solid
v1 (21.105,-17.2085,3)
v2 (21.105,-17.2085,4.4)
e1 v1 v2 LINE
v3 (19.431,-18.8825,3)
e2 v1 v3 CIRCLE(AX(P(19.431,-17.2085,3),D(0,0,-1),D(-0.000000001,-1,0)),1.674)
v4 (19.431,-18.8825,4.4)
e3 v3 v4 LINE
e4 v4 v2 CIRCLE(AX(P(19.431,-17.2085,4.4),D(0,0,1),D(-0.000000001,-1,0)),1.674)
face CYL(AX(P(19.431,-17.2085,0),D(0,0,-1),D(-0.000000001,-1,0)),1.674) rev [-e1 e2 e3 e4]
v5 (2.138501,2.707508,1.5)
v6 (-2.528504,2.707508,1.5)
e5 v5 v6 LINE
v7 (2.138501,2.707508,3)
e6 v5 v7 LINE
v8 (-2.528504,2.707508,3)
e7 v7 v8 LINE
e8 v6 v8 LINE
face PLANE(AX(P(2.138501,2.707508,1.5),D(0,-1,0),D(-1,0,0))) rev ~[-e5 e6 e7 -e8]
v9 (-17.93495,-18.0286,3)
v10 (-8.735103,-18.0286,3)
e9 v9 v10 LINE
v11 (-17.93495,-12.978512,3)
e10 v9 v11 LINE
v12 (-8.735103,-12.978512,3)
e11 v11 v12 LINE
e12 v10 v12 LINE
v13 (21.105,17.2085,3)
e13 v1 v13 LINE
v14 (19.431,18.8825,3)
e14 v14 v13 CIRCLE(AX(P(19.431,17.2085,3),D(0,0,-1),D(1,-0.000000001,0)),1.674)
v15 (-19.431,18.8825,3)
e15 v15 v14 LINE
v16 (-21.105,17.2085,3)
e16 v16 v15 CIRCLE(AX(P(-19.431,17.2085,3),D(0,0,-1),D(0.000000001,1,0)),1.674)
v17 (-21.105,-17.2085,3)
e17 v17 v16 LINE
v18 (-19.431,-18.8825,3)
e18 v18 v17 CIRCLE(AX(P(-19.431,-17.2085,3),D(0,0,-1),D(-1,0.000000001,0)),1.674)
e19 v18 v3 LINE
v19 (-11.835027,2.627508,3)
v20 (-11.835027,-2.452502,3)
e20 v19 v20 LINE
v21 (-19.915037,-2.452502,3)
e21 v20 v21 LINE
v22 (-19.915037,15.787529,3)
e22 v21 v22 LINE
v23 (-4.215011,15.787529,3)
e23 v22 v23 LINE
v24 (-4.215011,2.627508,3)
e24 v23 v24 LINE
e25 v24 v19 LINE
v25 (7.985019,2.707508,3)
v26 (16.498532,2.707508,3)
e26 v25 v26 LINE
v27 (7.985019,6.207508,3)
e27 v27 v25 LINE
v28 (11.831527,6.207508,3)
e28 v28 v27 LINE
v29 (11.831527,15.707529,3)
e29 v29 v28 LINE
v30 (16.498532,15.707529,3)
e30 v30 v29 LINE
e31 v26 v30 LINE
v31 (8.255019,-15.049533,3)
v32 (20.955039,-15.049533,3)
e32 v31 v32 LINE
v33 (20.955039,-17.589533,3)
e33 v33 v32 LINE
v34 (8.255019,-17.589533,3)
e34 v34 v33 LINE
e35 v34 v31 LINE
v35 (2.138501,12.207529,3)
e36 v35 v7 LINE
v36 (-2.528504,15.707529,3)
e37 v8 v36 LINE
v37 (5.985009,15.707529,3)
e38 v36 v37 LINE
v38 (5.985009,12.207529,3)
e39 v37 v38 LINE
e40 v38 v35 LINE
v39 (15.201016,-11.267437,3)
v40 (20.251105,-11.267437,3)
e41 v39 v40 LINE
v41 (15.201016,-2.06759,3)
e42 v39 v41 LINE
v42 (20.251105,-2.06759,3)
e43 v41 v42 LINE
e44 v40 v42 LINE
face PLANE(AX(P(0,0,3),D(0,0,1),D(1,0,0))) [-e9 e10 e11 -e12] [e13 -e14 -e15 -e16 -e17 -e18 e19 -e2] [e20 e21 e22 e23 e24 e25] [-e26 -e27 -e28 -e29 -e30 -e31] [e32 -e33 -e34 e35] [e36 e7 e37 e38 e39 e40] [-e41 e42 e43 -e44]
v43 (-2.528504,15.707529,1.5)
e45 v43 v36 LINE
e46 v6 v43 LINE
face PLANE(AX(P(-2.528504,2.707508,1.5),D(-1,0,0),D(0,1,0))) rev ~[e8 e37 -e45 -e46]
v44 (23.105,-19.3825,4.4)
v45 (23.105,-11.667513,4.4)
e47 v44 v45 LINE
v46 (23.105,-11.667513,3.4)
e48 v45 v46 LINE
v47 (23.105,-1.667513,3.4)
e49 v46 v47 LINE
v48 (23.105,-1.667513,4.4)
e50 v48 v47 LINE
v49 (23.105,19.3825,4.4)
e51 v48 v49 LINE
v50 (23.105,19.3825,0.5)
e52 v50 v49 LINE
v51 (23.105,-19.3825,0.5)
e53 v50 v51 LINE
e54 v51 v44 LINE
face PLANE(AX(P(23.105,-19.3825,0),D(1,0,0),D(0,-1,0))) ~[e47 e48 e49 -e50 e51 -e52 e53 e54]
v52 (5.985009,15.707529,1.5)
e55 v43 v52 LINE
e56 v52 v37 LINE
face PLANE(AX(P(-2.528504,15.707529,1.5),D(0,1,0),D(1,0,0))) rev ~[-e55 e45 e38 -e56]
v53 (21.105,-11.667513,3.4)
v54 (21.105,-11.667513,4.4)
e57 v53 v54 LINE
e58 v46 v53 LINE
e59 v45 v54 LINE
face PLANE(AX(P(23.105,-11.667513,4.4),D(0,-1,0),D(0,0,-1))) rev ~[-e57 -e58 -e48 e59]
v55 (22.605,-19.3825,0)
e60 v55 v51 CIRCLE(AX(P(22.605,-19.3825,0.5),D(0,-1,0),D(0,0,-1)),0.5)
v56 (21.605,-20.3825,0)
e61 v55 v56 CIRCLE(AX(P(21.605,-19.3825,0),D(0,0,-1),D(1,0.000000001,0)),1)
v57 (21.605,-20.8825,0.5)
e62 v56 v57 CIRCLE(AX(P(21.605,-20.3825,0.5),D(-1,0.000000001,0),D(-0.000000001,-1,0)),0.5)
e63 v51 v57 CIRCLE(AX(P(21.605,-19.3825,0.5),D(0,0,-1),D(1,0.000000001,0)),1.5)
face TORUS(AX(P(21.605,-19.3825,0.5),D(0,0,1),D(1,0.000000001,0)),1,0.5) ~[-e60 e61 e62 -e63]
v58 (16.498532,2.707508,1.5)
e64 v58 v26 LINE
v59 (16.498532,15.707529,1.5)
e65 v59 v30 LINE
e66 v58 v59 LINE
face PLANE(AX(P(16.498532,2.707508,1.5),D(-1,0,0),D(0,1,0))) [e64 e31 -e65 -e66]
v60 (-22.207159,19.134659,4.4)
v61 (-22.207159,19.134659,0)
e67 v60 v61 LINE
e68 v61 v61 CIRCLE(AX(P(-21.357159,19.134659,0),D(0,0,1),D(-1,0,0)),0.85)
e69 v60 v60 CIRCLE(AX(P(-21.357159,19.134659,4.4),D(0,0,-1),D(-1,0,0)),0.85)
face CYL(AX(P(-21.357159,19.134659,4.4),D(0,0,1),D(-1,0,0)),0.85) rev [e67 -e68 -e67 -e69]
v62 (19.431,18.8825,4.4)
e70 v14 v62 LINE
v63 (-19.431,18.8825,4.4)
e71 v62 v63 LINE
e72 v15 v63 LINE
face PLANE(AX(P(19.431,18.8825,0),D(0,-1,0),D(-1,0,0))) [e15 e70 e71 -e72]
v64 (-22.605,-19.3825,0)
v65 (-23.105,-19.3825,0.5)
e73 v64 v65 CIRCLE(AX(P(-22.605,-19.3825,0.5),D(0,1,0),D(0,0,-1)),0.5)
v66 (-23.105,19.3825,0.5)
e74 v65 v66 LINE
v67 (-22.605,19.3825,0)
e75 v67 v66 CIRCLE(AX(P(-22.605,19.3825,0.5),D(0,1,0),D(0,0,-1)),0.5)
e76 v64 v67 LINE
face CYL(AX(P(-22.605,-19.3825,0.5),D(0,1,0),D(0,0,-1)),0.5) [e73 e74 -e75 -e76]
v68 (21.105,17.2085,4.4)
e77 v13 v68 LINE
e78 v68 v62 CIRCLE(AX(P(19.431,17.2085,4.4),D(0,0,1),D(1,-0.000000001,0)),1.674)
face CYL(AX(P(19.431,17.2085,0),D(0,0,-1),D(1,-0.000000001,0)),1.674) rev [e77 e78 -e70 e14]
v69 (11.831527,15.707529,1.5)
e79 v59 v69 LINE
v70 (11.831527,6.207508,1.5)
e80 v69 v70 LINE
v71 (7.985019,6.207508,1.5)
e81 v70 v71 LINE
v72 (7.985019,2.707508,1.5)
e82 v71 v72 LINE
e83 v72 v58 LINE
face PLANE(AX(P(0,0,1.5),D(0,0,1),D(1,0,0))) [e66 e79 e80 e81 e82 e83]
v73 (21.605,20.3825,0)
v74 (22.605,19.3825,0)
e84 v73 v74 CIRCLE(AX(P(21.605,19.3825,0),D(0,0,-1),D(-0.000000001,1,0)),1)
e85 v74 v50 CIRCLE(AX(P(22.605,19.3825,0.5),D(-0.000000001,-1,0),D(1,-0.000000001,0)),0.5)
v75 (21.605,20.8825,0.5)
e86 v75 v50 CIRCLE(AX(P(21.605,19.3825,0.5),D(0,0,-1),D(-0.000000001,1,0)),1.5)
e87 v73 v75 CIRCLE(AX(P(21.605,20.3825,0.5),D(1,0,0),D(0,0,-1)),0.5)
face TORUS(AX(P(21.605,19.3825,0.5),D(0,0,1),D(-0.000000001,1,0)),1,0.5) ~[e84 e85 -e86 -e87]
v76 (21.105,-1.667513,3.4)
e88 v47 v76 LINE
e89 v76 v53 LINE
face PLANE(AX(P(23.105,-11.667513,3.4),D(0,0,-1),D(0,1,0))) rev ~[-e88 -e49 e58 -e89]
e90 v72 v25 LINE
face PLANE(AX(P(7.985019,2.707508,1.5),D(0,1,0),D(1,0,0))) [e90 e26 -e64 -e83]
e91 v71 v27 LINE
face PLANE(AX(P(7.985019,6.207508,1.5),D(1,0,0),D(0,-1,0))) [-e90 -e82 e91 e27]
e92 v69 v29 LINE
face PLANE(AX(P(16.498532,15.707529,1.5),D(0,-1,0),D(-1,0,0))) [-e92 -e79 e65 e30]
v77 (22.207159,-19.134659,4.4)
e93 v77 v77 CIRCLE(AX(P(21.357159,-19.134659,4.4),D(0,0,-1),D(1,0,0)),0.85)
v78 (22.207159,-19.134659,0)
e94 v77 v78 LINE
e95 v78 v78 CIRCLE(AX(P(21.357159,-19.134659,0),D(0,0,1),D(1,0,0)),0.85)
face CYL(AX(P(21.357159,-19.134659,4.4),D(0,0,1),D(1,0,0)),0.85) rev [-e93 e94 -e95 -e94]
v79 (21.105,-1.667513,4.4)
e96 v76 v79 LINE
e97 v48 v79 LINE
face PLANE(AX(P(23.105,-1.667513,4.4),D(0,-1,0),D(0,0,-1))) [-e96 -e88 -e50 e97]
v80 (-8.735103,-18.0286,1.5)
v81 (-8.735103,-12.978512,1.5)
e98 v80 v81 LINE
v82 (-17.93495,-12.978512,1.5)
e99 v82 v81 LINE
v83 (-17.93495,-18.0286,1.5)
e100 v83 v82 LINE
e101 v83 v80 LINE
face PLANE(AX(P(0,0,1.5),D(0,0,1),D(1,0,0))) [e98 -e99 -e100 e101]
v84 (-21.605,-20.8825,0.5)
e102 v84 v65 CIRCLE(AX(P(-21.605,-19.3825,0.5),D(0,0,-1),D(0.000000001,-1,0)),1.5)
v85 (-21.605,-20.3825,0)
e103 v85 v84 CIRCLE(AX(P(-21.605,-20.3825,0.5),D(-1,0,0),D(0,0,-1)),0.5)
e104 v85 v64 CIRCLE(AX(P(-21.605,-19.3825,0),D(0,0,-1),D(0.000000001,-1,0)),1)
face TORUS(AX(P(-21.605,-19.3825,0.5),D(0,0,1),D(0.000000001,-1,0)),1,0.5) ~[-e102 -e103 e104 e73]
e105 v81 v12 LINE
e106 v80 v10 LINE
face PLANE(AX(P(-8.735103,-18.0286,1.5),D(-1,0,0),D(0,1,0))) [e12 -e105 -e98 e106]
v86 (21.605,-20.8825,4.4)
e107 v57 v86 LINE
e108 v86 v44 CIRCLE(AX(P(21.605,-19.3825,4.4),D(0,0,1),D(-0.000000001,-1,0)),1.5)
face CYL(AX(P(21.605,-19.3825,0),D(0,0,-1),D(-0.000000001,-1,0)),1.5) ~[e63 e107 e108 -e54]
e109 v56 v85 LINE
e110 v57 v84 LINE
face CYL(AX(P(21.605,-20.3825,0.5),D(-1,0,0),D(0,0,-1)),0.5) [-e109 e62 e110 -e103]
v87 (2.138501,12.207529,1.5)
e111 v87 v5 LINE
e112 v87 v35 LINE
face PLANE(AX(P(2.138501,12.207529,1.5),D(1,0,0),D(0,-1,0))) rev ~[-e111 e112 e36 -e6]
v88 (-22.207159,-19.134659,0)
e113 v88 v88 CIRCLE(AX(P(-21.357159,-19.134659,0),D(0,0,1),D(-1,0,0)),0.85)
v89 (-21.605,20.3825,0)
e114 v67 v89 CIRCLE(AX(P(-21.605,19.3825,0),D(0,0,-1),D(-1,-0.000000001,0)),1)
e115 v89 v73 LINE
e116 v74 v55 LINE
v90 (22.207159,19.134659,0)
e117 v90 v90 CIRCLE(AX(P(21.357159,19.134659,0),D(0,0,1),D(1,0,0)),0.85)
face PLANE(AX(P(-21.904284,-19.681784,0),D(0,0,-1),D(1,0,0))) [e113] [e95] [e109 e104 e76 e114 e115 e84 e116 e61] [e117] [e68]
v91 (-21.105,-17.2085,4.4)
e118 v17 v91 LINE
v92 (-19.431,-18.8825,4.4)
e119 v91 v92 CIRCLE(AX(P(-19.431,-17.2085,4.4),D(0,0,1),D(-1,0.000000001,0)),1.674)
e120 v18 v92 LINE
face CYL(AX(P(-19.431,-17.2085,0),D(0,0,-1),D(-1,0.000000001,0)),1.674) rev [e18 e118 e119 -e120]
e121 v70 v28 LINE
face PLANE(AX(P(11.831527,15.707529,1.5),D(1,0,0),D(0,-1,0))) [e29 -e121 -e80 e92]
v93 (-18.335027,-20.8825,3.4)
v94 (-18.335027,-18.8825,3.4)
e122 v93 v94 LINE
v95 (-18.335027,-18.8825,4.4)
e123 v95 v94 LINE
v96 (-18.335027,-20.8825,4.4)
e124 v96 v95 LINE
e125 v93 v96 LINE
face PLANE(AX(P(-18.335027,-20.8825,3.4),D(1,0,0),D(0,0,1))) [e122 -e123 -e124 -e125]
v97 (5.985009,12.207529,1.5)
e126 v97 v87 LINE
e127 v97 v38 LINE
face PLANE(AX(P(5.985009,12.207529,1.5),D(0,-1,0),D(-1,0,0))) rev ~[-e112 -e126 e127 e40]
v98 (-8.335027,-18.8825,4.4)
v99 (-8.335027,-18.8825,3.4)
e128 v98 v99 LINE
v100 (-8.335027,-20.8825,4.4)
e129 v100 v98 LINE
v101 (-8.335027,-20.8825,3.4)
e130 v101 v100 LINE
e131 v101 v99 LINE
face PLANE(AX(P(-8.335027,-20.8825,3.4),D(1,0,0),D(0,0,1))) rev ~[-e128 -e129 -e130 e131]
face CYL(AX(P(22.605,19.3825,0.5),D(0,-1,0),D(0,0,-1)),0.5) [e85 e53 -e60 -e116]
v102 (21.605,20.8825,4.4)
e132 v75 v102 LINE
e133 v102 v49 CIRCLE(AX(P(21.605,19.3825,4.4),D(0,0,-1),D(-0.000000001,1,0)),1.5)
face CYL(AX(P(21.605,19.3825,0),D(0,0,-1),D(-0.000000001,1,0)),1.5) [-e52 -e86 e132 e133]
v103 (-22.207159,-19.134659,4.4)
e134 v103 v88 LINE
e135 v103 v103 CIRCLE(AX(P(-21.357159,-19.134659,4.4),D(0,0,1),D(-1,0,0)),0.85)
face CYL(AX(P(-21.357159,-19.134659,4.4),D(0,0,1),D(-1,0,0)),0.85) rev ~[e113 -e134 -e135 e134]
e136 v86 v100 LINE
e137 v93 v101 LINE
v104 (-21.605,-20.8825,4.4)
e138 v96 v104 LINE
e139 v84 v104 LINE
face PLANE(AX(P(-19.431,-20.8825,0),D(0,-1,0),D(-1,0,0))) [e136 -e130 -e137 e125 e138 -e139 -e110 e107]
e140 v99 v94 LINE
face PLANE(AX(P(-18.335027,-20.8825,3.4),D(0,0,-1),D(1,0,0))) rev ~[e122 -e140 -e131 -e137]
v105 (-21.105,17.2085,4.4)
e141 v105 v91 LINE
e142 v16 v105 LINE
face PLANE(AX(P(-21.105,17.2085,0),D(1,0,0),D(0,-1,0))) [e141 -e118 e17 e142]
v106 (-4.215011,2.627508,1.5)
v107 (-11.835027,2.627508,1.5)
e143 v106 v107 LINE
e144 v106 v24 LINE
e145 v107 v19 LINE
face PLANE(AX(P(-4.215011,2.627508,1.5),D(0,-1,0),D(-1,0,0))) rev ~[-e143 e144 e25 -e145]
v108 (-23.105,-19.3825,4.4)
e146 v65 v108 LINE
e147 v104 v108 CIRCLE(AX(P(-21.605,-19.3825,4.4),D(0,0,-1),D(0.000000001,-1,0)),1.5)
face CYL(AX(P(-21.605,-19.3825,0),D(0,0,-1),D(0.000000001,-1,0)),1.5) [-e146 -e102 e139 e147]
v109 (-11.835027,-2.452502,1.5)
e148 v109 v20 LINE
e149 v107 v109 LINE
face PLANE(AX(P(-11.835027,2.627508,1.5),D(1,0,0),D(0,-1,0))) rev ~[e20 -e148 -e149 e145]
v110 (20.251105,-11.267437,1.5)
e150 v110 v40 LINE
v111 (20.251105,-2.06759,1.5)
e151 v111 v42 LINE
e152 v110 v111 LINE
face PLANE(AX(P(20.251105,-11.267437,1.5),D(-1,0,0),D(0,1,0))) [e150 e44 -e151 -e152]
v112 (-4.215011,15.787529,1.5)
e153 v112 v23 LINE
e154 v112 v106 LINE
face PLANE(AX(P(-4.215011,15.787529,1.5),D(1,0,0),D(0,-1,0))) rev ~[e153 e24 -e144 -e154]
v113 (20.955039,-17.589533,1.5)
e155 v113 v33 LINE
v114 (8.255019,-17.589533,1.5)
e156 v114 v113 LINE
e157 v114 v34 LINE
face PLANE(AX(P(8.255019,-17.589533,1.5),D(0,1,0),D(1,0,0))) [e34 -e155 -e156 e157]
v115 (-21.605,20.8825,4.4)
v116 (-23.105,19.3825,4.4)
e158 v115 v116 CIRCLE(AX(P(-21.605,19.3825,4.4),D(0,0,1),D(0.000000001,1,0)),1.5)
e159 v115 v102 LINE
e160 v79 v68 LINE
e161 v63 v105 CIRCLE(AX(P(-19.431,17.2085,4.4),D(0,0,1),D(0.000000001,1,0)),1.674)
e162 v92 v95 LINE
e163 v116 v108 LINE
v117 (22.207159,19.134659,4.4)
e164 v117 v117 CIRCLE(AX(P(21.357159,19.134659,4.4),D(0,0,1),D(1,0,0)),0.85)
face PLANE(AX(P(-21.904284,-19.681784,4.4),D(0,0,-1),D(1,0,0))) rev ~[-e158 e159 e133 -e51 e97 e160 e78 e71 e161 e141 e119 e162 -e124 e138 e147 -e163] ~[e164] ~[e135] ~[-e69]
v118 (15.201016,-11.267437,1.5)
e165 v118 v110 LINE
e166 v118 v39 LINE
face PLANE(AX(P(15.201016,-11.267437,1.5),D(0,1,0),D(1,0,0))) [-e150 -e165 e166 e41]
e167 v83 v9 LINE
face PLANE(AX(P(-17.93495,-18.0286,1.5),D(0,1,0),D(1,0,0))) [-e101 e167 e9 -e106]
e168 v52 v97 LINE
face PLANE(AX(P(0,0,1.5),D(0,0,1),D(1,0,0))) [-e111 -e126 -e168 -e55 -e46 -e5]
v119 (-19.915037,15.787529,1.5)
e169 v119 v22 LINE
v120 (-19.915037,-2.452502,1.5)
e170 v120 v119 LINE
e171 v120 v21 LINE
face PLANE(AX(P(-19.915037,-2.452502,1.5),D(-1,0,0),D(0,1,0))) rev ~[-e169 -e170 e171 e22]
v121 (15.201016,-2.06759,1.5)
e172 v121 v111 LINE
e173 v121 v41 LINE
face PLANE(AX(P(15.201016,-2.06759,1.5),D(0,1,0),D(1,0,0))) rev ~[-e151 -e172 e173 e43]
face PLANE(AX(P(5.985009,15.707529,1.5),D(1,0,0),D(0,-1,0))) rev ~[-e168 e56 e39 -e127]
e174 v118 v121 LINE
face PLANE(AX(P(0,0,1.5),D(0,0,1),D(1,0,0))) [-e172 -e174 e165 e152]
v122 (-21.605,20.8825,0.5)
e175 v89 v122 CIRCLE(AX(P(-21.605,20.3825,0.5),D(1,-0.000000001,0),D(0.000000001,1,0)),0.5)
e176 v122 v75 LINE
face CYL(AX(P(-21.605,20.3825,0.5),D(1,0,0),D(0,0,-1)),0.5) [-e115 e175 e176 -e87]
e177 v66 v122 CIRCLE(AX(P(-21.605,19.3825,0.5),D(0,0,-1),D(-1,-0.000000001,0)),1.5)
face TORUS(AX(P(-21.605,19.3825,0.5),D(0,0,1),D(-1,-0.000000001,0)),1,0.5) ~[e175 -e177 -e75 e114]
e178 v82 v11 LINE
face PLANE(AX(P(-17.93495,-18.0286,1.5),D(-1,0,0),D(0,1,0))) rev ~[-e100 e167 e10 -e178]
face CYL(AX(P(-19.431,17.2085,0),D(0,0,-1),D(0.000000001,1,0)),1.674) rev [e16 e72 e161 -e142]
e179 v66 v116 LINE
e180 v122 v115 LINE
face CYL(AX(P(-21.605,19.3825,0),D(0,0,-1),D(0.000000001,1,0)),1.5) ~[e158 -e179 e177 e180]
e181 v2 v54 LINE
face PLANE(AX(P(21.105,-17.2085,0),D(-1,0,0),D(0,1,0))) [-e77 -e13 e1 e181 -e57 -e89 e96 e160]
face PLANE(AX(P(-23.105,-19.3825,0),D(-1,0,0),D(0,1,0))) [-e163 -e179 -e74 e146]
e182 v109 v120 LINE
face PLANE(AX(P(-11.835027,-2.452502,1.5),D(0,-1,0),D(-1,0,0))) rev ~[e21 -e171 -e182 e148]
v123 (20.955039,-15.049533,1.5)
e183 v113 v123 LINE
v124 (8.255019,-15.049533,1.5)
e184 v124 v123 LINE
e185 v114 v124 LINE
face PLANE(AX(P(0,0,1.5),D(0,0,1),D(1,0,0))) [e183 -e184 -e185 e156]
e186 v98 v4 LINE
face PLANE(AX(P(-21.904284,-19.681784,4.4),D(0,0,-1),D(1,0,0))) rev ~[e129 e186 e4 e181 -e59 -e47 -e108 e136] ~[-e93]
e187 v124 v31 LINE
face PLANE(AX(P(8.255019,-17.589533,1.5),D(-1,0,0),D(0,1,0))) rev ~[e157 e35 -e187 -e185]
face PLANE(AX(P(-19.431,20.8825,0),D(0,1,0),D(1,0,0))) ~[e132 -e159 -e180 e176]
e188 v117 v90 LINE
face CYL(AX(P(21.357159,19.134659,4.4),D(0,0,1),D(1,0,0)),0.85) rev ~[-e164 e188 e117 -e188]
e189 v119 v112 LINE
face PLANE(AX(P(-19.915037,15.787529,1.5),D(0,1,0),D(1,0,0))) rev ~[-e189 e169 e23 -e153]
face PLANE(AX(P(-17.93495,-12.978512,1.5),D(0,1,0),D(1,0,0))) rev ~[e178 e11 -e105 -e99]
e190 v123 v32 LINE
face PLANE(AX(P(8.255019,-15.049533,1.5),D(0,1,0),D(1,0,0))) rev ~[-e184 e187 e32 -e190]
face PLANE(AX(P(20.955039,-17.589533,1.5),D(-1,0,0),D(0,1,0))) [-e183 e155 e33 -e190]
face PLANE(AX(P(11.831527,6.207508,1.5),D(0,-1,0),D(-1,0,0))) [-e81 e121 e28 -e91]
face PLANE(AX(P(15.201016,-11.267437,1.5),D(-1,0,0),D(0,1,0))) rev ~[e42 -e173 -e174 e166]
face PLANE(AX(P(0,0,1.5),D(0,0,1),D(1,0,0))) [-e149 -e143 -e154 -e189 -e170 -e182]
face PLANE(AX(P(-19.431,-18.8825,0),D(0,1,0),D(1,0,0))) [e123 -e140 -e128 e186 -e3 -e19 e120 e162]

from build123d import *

# Parameters (mm, degrees)
BOSS_EXTRUDE1_DEPTH     = 4.4
BOSS_EXTRUDE2_DEPTH     = 1.5
SKETCH3_W               = 42.21
SKETCH3_H               = 37.765
SKETCH3_W_2             = 5.0500889
SKETCH3_H_2             = 9.1998476
SKETCH3_W_3             = 9.1998476
SKETCH3_H_3             = 5.0500889
SKETCH3_W_4             = 12.70002032
SKETCH3_H_4             = 2.54
BOSS_EXTRUDE3_DEPTH     = 1.5
BOSS_EXTRUDE4_START     = -4.4
BOSS_EXTRUDE4_DEPTH     = 4.4
SKETCH4_R               = 0.85
CUT_EXTRUDE1_DEPTH      = 32.45281913
MIRROR2_START           = -4.4
MIRROR2_COPY_1_DEPTH    = 4.4
MIRROR2_COPY_2_SKETCH_R = 0.85
MIRROR2_COPY_2_DEPTH    = 32.45281913
FILLET1_R               = 0.5
SKETCH7_W               = 10
SKETCH7_H               = 1
CUT_EXTRUDE2_DEPTH      = 3
SKETCH8_W               = 1
SKETCH8_H               = 10
CUT_EXTRUDE3_DEPTH      = 3


with BuildPart() as part:
    # Sketch1 → Boss-Extrude1 (new body)
    with BuildSketch(Plane.XY):
        with BuildLine():
            Line((-19.431, 20.8825), (19.431, 20.8825))
            ThreePointArc((19.431, 20.8825), (22.028910314, 19.806410314), (23.105, 17.2085))
            Line((23.105, 17.2085), (23.105, -17.2085))
            ThreePointArc((23.105, -17.2085), (22.028910314, -19.806410314), (19.431, -20.8825))
            Line((19.431, -20.8825), (-19.431, -20.8825))
            ThreePointArc((-19.431, -20.8825), (-22.028910314, -19.806410314), (-23.105, -17.2085))
            Line((-23.105, -17.2085), (-23.105, 17.2085))
            ThreePointArc((-23.105, 17.2085), (-22.028910314, 19.806410314), (-19.431, 20.8825))
        make_face()
        with BuildLine():
            Line((-19.431, -18.8825), (19.431, -18.8825))
            ThreePointArc((19.431, -18.8825), (20.614696752, -18.392196752), (21.105, -17.2085))
            Line((21.105, -17.2085), (21.105, 17.2085))
            ThreePointArc((21.105, 17.2085), (20.614696752, 18.392196752), (19.431, 18.8825))
            Line((19.431, 18.8825), (-19.431, 18.8825))
            ThreePointArc((-19.431, 18.8825), (-20.614696752, 18.392196752), (-21.105, 17.2085))
            Line((-21.105, 17.2085), (-21.105, -17.2085))
            ThreePointArc((-21.105, -17.2085), (-20.614696752, -18.392196752), (-19.431, -18.8825))
        make_face(mode=Mode.SUBTRACT)
    extrude(amount=BOSS_EXTRUDE1_DEPTH)

    # Sketch2 → Boss-Extrude2 (add)
    with BuildSketch(Plane(origin=(0, 0, 0), x_dir=(-1, 0, 0), z_dir=(0, 0, -1))):
        with BuildLine():
            Line((21.105, 17.2085), (21.105, -17.2085))
            ThreePointArc((21.105, -17.2085), (20.614696752, -18.392196752), (19.431, -18.8825))
            Line((19.431, -18.8825), (-19.431, -18.8825))
            ThreePointArc((-19.431, -18.8825), (-20.614696752, -18.392196752), (-21.105, -17.2085))
            Line((-21.105, -17.2085), (-21.105, 17.2085))
            ThreePointArc((-21.105, 17.2085), (-20.614696752, 18.392196752), (-19.431, 18.8825))
            Line((-19.431, 18.8825), (19.431, 18.8825))
            ThreePointArc((19.431, 18.8825), (20.614696752, 18.392196752), (21.105, 17.2085))
        make_face()
    extrude(amount=-BOSS_EXTRUDE2_DEPTH)

    # Sketch3 → Boss-Extrude3 (add)
    with BuildSketch(Plane.XY.offset(1.5)):
        Rectangle(SKETCH3_W, SKETCH3_H)
        Polygon((-19.91503683, 15.787528575), (-4.21501143, 15.787528575), (-4.21501143, 2.627508255), (-11.83502667, 2.627508255), (-11.83502667, -2.452501905), (-19.91503683, -2.452501905), align=None, mode=Mode.SUBTRACT)
        Polygon((5.98500889, 15.707528575), (5.98500889, 12.207528575), (2.138501397, 12.207528575), (2.138501397, 2.707508255), (-2.528503937, 2.707508255), (-2.528503937, 15.707528575), align=None, mode=Mode.SUBTRACT)
        Polygon((16.498531877, 2.707508255), (16.498531877, 15.707528575), (11.831526543, 15.707528575), (11.831526543, 6.207508255), (7.98501905, 6.207508255), (7.98501905, 2.707508255), align=None, mode=Mode.SUBTRACT)
        with Locations((17.726060452, -6.667513335)):
            Rectangle(SKETCH3_W_2, SKETCH3_H_2, mode=Mode.SUBTRACT)
        with Locations((-13.33502667, -15.503556007)):
            Rectangle(SKETCH3_W_3, SKETCH3_H_3, mode=Mode.SUBTRACT)
        with Locations((14.60502921, -16.319532639)):
            Rectangle(SKETCH3_W_4, SKETCH3_H_4, mode=Mode.SUBTRACT)
    extrude(amount=BOSS_EXTRUDE3_DEPTH)

    # Sketch5 → Boss-Extrude4 (add)
    with BuildSketch(Plane.XY.offset(4.4).offset(BOSS_EXTRUDE4_START)):
        with BuildLine():
            Line((19.431, 20.8825), (21.605, 20.8825))
            ThreePointArc((21.605, 20.8825), (22.665660172, 20.443160172), (23.105, 19.3825))
            Line((23.105, 19.3825), (23.105, 17.2085))
            ThreePointArc((23.105, 17.2085), (22.028910314, 19.806410314), (19.431, 20.8825))
        make_face()
    boss_extrude4 = extrude(amount=BOSS_EXTRUDE4_DEPTH)

    # Sketch4 → Cut-Extrude1 (cut, through all)
    with BuildSketch(Plane.XY.offset(4.4)):
        with Locations((21.357158872, 19.134658872)):
            Circle(SKETCH4_R)
    cut_extrude1 = extrude(amount=-CUT_EXTRUDE1_DEPTH, mode=Mode.SUBTRACT)

    # Mirror1: Boss-Extrude4, Cut-Extrude1 across plane
    add(boss_extrude4.mirror(Plane(origin=(0, 0, 0), x_dir=(0, 0, 1), z_dir=(1, 0, 0))))
    add(cut_extrude1.mirror(Plane(origin=(0, 0, 0), x_dir=(0, 0, 1), z_dir=(1, 0, 0))), mode=Mode.SUBTRACT)

    # Mirror2: Boss-Extrude4, Cut-Extrude1 across plane
    add(boss_extrude4.mirror(Plane.ZX))
    add(cut_extrude1.mirror(Plane.ZX), mode=Mode.SUBTRACT)

    # Mirror2 copy 1 sketch → Mirror2 copy 1 (add)
    with BuildSketch(Plane(origin=(0, 0, 4.4), x_dir=(-1, 0, 0), z_dir=(0, 0, 1)).offset(MIRROR2_START)):
        with BuildLine():
            Line((19.431, 20.8825), (21.605, 20.8825))
            ThreePointArc((21.605, 20.8825), (22.665660172, 20.443160172), (23.105, 19.3825))
            Line((23.105, 19.3825), (23.105, 17.2085))
            ThreePointArc((23.105, 17.2085), (22.028910314, 19.806410314), (19.431, 20.8825))
        make_face()
    extrude(amount=MIRROR2_COPY_1_DEPTH)

    # Mirror2 copy 2 sketch → Mirror2 copy 2 (cut, through all)
    with BuildSketch(Plane(origin=(0, 0, 4.4), x_dir=(-1, 0, 0), z_dir=(0, 0, 1))):
        with Locations((21.357158872, 19.134658872)):
            Circle(MIRROR2_COPY_2_SKETCH_R)
    extrude(amount=-MIRROR2_COPY_2_DEPTH, mode=Mode.SUBTRACT)

    # Fillet1
    fillet1_edges = [part.edges().sort_by_distance(p)[0] for p in [
        (-23.105, 0, 0),
        (22.665660172, 20.443160172, 0),
        (-22.665660172, 20.443160172, 0),
        (-22.665660172, -20.443160172, 0),
        (22.665660172, -20.443160172, 0),
        (0, 20.8825, 0),
        (23.105, 0, 0),
        (0, -20.8825, 0),
    ]]
    fillet(fillet1_edges, radius=FILLET1_R)

    # Sketch7 → Cut-Extrude2 (cut)
    with BuildSketch(Plane.XZ.offset(20.8825)):
        with Locations((-13.33502667, 3.9)):
            Rectangle(SKETCH7_W, SKETCH7_H)
    extrude(amount=-CUT_EXTRUDE2_DEPTH, mode=Mode.SUBTRACT)

    # Sketch8 → Cut-Extrude3 (cut)
    with BuildSketch(Plane(origin=(23.105, 0, 0), x_dir=(0, 0, -1), z_dir=(1, 0, 0))):
        with Locations((-3.9, -6.667513335)):
            Rectangle(SKETCH8_W, SKETCH8_H)
    extrude(amount=-CUT_EXTRUDE3_DEPTH, mode=Mode.SUBTRACT)


solid = part.part
